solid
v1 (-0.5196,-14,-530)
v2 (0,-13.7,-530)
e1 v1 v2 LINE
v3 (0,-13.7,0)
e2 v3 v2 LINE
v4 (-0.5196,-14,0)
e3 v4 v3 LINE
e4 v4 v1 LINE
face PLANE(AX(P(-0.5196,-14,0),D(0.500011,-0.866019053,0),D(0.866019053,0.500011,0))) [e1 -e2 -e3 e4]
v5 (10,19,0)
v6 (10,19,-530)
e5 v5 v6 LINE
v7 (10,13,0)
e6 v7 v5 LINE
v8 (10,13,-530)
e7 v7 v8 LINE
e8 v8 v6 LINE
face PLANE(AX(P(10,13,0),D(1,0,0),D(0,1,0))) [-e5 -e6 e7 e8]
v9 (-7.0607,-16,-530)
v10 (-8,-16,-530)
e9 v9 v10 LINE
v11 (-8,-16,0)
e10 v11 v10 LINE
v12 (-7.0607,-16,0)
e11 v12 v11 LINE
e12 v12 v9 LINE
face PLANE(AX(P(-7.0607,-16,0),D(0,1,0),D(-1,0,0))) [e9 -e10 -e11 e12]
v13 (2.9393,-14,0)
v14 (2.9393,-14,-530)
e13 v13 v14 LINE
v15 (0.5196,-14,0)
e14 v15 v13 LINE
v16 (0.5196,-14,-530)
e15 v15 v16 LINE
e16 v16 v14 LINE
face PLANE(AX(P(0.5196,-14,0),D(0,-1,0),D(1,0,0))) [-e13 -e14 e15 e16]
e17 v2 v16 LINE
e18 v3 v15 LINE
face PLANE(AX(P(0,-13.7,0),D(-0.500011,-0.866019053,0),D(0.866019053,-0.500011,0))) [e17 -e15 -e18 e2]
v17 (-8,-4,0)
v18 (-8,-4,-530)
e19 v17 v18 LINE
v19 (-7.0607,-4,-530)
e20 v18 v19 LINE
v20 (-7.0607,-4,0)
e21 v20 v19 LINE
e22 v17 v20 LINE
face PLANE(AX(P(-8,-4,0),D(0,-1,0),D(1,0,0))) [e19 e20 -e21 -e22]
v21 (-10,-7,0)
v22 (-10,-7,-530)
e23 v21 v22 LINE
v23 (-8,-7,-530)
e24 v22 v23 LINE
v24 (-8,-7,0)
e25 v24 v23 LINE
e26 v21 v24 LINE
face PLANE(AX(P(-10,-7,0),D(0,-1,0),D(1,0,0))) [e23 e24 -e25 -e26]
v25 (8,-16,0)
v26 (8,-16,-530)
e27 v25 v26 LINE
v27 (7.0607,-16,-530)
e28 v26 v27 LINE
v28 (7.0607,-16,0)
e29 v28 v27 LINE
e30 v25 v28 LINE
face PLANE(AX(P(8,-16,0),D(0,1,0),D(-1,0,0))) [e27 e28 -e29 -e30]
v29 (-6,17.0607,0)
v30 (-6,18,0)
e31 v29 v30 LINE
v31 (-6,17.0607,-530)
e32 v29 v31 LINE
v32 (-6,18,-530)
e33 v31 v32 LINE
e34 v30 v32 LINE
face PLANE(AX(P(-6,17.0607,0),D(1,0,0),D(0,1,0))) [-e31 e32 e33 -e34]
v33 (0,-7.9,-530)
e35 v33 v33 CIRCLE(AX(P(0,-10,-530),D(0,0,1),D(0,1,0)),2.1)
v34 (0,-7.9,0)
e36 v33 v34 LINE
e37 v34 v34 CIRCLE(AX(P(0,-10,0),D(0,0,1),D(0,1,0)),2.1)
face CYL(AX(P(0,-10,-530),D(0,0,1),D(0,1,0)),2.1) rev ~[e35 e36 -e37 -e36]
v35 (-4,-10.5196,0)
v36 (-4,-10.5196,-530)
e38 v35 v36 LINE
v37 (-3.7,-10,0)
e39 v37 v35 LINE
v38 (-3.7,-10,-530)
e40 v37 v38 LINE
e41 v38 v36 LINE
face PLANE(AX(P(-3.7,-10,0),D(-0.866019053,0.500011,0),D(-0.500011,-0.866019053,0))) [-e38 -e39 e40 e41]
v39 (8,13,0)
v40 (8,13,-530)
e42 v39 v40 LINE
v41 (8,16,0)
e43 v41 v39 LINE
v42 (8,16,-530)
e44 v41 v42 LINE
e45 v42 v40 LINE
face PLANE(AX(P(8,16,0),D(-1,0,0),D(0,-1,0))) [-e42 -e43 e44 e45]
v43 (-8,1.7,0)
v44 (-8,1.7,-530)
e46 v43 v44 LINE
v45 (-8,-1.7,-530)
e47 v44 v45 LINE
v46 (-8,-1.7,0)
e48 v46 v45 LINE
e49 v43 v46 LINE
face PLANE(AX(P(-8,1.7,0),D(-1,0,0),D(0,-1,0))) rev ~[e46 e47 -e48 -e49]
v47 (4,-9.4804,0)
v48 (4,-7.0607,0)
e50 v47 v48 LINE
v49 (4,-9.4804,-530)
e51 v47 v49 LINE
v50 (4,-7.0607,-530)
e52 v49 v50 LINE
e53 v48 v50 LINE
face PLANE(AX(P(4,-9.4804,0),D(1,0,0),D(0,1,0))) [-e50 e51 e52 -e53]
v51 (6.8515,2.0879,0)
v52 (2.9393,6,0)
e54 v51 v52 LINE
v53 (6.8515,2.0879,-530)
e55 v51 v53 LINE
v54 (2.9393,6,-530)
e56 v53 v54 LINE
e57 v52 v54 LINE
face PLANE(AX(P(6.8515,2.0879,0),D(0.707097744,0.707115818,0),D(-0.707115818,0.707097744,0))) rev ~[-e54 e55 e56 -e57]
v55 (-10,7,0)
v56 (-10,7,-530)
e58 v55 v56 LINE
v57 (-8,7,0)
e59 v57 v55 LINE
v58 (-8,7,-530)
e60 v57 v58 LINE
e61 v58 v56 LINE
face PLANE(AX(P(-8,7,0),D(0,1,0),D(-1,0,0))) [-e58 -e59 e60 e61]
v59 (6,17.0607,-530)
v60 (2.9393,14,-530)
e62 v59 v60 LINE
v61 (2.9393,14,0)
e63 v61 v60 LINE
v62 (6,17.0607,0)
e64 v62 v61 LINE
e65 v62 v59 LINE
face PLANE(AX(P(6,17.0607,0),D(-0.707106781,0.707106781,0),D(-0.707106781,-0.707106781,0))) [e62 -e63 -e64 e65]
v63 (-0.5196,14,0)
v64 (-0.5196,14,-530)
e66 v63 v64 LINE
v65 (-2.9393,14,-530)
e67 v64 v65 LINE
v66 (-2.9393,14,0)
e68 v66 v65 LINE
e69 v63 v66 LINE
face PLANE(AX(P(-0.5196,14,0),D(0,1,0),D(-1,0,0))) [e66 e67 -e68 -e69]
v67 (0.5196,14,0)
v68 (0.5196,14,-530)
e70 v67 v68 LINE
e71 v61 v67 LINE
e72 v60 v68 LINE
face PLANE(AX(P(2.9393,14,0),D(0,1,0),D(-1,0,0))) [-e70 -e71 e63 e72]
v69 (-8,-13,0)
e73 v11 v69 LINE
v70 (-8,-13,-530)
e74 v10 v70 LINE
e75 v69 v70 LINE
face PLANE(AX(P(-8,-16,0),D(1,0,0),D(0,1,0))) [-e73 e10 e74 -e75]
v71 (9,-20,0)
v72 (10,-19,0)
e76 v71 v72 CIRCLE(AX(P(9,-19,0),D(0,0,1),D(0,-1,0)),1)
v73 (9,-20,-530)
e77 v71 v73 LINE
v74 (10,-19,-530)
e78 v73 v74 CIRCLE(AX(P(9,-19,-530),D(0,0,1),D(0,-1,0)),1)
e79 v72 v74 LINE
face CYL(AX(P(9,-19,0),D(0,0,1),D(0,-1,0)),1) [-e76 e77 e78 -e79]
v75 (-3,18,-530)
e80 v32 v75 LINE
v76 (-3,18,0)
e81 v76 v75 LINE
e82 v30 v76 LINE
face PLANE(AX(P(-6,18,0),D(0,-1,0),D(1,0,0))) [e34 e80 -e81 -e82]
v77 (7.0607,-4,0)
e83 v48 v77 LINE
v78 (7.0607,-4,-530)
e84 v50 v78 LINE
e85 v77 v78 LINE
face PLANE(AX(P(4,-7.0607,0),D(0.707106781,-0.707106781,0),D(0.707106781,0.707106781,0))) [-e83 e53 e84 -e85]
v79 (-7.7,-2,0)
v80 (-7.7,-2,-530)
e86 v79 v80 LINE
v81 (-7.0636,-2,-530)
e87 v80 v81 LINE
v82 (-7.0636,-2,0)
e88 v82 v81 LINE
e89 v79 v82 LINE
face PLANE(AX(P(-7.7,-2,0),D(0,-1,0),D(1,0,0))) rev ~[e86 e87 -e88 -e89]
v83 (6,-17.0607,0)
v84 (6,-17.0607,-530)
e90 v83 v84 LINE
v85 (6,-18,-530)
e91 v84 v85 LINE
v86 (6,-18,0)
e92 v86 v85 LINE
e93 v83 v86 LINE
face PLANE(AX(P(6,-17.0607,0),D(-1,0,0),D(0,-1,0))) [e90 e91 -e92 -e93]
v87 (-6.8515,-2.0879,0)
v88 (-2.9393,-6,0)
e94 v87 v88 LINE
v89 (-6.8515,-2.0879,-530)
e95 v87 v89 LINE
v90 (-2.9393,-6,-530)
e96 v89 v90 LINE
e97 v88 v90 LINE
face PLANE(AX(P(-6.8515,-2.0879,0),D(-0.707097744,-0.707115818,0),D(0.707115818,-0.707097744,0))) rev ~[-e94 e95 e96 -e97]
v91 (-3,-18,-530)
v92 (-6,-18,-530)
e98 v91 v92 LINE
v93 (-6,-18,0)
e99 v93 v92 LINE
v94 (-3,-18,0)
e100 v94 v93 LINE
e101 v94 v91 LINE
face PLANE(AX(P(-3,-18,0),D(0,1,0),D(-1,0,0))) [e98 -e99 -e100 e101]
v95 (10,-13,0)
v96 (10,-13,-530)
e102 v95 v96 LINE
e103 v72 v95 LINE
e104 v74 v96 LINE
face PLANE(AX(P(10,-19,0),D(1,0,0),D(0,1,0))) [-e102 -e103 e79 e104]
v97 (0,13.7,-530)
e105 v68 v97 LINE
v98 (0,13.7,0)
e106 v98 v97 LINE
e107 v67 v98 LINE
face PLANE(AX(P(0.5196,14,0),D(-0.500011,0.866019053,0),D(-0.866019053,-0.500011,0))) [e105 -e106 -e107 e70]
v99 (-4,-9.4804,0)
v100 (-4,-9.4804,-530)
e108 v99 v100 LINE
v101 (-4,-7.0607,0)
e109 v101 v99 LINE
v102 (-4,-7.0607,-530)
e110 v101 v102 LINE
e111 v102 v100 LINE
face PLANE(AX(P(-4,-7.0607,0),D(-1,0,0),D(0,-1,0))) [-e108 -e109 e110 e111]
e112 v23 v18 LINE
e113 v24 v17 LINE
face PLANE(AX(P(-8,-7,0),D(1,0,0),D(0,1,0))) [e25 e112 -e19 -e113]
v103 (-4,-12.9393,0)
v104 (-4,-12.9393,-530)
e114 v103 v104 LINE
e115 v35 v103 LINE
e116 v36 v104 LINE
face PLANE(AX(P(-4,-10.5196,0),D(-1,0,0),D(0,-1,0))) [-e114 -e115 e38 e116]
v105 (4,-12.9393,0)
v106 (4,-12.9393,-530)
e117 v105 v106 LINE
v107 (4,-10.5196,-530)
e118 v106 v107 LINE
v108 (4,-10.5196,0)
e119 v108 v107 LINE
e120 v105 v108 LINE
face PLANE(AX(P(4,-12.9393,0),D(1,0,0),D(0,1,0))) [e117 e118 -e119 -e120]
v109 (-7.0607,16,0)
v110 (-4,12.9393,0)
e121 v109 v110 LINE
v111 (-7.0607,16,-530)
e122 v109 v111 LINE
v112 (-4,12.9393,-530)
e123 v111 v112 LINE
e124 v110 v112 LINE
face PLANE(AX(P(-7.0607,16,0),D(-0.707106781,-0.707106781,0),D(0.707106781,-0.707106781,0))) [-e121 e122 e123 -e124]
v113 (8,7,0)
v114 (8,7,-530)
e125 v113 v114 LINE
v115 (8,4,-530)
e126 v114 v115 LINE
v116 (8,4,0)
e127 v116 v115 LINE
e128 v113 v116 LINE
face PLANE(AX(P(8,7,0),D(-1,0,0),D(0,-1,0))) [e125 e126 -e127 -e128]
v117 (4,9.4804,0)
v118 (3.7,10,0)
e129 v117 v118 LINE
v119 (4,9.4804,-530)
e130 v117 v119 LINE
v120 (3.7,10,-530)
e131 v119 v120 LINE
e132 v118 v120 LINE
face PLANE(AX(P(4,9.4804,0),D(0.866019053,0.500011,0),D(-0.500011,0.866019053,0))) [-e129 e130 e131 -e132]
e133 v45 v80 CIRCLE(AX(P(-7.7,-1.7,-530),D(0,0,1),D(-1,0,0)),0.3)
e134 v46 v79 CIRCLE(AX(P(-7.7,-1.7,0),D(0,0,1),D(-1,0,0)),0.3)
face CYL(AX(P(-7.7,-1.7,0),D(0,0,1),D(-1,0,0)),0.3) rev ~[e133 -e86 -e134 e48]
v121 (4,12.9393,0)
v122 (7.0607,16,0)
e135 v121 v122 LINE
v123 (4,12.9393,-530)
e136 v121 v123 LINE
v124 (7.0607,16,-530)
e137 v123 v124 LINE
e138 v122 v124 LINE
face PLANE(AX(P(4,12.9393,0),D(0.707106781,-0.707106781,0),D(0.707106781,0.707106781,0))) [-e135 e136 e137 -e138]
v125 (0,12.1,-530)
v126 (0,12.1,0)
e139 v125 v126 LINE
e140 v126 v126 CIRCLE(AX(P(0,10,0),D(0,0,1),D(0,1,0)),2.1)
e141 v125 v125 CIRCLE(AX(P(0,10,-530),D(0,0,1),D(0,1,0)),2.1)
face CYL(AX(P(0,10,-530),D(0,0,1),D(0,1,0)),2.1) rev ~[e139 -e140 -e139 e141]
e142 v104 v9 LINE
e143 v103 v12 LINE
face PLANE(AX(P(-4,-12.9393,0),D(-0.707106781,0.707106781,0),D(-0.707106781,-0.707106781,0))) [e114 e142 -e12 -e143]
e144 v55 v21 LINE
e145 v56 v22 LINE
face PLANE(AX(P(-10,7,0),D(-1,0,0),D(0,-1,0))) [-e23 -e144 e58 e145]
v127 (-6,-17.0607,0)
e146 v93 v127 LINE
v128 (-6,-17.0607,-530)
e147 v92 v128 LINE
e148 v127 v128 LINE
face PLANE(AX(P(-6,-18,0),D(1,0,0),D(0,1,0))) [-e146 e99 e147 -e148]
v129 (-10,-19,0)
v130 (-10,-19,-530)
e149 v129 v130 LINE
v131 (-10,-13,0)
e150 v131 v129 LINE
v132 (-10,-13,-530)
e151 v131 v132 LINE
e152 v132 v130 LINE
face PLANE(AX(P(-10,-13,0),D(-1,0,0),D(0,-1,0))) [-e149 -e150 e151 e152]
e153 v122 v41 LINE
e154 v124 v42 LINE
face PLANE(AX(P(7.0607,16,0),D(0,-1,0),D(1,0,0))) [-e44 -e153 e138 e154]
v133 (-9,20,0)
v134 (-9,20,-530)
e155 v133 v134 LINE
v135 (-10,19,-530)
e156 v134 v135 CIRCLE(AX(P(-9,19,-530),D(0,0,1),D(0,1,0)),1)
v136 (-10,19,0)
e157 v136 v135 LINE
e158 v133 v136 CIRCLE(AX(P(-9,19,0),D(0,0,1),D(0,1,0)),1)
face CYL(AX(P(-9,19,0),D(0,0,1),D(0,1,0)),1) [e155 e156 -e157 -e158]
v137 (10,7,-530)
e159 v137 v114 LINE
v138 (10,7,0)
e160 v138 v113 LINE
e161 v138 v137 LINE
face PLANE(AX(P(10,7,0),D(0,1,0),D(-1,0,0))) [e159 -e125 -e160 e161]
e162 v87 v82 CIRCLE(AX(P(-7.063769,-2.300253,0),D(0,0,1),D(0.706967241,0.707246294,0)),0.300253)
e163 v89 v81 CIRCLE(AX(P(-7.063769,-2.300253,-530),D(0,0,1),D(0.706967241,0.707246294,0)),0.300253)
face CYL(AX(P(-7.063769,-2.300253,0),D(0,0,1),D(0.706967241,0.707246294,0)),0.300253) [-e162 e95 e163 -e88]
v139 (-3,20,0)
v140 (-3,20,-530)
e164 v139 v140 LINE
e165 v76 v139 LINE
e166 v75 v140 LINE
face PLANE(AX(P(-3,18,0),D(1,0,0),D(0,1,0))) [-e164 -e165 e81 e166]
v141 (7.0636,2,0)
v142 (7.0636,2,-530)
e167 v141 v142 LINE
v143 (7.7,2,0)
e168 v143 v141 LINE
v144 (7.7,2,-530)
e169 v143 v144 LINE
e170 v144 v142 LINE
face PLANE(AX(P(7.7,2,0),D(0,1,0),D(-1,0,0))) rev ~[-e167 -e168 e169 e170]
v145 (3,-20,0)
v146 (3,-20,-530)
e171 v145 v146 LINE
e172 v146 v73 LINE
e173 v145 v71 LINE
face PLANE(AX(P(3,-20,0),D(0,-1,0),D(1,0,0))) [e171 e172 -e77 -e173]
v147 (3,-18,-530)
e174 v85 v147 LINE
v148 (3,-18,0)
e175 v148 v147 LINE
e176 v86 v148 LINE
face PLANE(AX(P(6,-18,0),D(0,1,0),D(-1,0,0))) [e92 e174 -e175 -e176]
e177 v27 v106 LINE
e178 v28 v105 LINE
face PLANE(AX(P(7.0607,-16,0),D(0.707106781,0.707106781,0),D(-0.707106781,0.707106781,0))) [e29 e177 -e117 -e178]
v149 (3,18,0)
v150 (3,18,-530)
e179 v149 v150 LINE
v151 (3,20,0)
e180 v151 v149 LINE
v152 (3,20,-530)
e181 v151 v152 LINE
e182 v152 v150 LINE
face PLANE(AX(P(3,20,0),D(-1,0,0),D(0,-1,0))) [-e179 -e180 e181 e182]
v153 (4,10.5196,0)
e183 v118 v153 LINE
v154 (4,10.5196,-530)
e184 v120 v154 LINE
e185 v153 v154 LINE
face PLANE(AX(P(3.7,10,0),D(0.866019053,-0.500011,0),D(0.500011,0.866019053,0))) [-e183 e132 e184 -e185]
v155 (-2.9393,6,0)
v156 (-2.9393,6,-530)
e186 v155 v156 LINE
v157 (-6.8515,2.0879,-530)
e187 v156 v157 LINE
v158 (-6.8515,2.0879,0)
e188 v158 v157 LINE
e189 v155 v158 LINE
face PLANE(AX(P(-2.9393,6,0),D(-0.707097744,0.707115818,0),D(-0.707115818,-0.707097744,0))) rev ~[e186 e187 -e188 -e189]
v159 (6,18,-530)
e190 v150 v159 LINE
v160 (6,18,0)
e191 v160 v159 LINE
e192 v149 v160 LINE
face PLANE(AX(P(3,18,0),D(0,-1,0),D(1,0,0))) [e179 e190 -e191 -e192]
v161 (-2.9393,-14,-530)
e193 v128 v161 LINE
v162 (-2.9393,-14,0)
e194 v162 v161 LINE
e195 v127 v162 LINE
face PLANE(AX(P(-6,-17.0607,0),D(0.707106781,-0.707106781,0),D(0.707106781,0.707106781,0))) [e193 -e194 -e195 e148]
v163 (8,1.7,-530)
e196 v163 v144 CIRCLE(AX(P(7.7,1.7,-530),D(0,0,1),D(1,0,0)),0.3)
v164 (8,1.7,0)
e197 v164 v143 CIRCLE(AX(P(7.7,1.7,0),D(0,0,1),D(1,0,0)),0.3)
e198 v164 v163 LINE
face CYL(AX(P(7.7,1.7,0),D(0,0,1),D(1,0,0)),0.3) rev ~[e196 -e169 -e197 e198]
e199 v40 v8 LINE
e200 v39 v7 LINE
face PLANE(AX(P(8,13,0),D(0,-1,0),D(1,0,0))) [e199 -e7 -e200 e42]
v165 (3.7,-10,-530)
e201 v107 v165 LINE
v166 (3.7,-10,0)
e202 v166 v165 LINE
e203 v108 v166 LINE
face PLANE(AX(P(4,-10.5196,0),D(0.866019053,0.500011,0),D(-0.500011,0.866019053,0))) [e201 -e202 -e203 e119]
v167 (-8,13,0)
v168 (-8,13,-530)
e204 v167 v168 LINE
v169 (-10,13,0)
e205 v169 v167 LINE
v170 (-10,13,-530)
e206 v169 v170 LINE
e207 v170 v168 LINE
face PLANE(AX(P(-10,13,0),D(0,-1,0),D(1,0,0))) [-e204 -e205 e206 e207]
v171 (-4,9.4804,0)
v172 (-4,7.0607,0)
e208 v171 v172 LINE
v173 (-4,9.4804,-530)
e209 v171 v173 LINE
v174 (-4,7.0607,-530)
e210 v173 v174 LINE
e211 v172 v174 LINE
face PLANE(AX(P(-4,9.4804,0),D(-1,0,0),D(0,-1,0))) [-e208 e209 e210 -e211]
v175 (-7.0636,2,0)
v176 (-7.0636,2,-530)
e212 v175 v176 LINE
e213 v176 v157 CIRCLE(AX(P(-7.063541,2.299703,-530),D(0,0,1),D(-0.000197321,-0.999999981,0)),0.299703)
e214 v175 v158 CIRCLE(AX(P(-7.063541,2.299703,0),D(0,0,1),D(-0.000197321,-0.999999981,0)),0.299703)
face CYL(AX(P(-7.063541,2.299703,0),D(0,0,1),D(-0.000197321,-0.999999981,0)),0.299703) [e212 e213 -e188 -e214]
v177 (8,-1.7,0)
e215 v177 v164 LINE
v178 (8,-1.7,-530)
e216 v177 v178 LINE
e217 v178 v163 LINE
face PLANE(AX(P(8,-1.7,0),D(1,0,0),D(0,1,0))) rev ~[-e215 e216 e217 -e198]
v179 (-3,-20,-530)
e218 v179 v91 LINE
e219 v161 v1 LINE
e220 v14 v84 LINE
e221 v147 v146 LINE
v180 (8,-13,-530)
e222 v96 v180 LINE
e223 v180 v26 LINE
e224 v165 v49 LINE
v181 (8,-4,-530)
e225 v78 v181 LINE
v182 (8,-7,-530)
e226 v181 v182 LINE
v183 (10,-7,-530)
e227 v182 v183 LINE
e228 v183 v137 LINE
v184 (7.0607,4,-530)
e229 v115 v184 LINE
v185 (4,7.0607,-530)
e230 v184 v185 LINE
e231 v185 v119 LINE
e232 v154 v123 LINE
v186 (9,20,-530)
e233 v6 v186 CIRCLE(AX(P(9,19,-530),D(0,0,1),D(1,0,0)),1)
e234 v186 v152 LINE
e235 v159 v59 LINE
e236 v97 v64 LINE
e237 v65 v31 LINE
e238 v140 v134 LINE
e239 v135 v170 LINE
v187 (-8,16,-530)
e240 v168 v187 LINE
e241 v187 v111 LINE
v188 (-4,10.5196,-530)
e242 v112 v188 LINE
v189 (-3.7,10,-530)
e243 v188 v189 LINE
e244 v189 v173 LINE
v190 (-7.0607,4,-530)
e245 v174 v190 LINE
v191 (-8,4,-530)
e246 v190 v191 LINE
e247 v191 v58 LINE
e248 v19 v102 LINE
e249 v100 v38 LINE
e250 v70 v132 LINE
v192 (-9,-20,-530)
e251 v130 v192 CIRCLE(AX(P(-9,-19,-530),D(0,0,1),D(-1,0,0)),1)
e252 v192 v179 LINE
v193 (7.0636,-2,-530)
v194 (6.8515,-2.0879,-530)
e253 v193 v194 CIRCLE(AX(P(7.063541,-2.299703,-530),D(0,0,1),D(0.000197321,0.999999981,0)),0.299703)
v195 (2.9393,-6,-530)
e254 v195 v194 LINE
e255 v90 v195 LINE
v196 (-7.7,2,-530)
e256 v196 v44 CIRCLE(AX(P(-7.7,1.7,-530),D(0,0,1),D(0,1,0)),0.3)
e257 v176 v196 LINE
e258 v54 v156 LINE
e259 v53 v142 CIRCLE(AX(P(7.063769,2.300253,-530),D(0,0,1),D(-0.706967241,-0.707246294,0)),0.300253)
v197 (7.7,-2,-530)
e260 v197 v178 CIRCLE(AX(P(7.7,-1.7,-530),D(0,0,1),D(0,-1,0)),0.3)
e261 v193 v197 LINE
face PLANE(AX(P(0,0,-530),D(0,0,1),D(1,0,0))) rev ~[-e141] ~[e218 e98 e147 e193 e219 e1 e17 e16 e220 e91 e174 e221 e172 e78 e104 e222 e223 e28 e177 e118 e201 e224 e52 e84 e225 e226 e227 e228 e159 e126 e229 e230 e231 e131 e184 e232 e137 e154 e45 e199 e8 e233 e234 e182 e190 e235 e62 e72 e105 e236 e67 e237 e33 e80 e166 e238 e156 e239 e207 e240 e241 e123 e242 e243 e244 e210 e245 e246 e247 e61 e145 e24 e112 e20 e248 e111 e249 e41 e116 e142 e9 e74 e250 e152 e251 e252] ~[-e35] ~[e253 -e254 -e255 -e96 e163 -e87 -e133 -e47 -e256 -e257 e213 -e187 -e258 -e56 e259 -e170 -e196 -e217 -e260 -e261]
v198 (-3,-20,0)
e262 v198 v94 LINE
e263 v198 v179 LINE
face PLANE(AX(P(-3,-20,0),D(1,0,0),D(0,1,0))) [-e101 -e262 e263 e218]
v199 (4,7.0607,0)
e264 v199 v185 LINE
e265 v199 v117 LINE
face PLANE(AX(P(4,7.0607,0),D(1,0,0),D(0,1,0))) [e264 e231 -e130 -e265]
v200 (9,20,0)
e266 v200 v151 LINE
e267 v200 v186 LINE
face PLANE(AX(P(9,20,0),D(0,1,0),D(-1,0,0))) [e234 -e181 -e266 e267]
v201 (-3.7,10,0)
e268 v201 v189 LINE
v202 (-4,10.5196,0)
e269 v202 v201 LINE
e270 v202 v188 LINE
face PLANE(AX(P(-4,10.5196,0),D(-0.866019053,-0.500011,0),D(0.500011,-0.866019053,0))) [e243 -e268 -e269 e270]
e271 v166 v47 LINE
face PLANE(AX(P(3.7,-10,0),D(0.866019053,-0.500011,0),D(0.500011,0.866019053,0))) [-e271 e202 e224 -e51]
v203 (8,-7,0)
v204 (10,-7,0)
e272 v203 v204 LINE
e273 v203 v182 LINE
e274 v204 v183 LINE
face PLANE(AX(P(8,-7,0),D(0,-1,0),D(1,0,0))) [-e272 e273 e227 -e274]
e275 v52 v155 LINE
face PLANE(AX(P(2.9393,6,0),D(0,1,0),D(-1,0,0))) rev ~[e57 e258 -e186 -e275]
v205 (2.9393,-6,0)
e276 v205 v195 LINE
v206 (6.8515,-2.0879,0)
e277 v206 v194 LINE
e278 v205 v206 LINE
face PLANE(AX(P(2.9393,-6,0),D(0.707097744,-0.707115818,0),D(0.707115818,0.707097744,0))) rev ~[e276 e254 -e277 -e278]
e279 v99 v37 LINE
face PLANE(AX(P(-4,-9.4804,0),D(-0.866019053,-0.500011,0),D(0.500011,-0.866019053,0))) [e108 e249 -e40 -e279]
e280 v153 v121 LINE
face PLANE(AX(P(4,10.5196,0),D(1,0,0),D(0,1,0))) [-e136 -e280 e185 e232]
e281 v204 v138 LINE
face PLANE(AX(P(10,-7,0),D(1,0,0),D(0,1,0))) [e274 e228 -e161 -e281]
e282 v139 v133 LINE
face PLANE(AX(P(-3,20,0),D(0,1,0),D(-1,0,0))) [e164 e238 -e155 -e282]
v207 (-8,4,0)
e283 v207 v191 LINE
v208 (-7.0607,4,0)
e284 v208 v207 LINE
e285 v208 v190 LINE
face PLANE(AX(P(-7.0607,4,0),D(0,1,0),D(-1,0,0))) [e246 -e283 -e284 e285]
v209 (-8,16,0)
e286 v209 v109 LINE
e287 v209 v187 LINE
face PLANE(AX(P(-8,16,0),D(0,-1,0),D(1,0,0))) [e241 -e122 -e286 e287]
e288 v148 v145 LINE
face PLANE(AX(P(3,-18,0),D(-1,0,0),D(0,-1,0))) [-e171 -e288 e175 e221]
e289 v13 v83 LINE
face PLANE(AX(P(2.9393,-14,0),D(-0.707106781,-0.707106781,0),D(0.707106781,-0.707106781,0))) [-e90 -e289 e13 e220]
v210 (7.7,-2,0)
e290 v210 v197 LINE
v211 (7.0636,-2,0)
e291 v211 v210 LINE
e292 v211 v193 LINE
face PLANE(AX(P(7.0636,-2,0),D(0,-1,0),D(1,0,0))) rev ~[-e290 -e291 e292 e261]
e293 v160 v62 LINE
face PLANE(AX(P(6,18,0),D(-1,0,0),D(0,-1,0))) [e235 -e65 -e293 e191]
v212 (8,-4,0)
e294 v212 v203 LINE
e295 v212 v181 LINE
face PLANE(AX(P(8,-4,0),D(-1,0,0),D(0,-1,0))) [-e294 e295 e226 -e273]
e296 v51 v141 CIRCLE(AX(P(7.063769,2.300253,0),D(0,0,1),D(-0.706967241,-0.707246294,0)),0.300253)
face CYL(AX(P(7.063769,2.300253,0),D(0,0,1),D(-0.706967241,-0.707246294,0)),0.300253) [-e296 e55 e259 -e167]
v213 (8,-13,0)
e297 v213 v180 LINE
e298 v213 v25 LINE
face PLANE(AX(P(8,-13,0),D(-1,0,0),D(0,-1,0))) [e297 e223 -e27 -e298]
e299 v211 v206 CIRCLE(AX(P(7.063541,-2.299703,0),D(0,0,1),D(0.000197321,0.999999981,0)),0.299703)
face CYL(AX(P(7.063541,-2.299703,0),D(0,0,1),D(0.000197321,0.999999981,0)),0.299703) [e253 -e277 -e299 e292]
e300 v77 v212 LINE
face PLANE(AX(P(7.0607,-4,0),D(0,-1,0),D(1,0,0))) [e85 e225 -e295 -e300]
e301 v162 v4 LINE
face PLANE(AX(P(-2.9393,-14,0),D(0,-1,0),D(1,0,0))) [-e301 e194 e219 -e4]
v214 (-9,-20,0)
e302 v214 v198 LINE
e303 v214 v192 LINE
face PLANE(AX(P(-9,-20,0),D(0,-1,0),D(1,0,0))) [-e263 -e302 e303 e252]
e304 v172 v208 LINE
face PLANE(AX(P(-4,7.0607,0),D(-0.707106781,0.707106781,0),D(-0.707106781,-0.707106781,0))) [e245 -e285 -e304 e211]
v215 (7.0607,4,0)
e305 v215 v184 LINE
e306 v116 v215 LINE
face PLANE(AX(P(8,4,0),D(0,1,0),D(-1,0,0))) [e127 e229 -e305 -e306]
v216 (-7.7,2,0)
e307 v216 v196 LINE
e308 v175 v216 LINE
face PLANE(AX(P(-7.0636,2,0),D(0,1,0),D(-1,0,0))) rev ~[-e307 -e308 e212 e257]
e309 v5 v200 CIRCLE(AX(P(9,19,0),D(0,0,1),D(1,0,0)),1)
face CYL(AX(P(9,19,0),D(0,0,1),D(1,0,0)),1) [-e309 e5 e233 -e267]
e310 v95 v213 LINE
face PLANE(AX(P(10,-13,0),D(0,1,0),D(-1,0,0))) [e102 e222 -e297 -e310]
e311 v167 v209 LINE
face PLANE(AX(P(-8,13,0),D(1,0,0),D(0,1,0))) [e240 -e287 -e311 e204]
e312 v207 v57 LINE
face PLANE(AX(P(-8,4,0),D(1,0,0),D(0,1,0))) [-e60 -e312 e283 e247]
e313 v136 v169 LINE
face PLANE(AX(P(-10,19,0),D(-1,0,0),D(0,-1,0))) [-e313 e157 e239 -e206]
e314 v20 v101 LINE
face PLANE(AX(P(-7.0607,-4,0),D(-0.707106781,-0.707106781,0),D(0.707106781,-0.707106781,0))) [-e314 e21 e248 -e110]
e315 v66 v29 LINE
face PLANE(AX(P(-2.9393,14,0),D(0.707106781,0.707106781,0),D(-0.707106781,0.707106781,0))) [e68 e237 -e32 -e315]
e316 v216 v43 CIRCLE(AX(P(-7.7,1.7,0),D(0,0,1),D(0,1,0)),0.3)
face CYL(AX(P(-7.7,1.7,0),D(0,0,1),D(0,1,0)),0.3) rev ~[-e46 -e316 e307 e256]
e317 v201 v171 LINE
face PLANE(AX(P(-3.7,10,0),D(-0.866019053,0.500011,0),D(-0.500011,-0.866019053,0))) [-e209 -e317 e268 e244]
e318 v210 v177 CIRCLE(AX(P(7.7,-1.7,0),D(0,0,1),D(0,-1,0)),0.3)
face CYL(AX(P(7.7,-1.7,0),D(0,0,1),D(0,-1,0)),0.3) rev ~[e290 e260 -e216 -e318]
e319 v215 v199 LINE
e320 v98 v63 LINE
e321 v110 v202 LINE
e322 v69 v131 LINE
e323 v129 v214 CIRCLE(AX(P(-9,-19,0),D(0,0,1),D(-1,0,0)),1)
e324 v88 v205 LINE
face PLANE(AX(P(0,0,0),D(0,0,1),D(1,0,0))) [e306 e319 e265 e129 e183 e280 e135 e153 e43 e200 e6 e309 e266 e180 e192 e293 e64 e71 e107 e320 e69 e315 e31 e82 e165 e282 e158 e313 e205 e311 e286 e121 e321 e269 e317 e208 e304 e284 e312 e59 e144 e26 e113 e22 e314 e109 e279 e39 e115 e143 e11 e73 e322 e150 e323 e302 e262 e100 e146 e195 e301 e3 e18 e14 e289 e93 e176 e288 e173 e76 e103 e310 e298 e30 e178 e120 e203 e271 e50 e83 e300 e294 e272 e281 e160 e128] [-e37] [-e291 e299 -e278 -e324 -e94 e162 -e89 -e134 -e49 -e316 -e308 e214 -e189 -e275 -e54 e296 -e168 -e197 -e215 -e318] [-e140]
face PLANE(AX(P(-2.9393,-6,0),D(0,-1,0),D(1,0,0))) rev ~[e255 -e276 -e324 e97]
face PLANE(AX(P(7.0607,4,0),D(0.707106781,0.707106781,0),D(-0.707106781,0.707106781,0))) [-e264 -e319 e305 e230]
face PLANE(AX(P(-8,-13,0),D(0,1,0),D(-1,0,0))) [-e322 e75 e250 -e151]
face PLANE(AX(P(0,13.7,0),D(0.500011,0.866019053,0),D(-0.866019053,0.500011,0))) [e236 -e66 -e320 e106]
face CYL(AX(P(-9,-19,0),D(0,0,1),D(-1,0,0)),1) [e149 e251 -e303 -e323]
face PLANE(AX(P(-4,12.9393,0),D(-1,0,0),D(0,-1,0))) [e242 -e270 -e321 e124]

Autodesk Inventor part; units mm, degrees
sketch "Sketch_1" plane through (0, 0, 0) normal (0, 0, 1) x (1, 0, 0)
  line L0 (-10, -7) -> (-8, -7)
  line L1 (-8, -7) -> (-8, -4)
  line L2 (-8, -4) -> (-7.0607, -4)
  line L3 (-7.0607, -4) -> (-4, -7.0607)
  line L4 (-4, -7.0607) -> (-4, -9.4804)
  line L5 (-4, -9.4804) -> (-3.7, -10)
  line L6 (-3.7, -10) -> (-4, -10.5196)
  line L7 (-4, -10.5196) -> (-4, -12.9393)
  line L8 (-4, -12.9393) -> (-7.0607, -16)
  line L9 (-7.0607, -16) -> (-8, -16)
  line L10 (-8, -16) -> (-8, -13)
  line L11 (-8, -13) -> (-10, -13)
  line L12 (-10, -13) -> (-10, -19)
  arc A0 (-10, -19) -> (-9, -20) centre (-9, -19) ccw
  line L13 (-9, -20) -> (-3, -20)
  line L14 (-3, -20) -> (-3, -18)
  line L15 (-3, -18) -> (-6, -18)
  line L16 (-6, -18) -> (-6, -17.0607)
  line L17 (-6, -17.0607) -> (-2.9393, -14)
  line L18 (-2.9393, -14) -> (-0.5196, -14)
  line L19 (-0.5196, -14) -> (0, -13.7)
  line L20 (0, -13.7) -> (0.5196, -14)
  line L21 (0.5196, -14) -> (2.9393, -14)
  line L22 (2.9393, -14) -> (6, -17.0607)
  line L23 (6, -17.0607) -> (6, -18)
  line L24 (6, -18) -> (3, -18)
  line L25 (3, -18) -> (3, -20)
  line L26 (3, -20) -> (9, -20)
  arc A1 (9, -20) -> (10, -19) centre (9, -19) ccw
  line L27 (10, -19) -> (10, -13)
  line L28 (10, -13) -> (8, -13)
  line L29 (8, -13) -> (8, -16)
  line L30 (8, -16) -> (7.0607, -16)
  line L31 (7.0607, -16) -> (4, -12.9393)
  line L32 (4, -12.9393) -> (4, -10.5196)
  line L33 (4, -10.5196) -> (3.7, -10)
  line L34 (3.7, -10) -> (4, -9.4804)
  line L35 (4, -9.4804) -> (4, -7.0607)
  line L36 (4, -7.0607) -> (7.0607, -4)
  line L37 (7.0607, -4) -> (8, -4)
  line L38 (8, -4) -> (8, -7)
  line L39 (8, -7) -> (10, -7)
  line L40 (10, -7) -> (10, 7)
  line L41 (10, 7) -> (8, 7)
  line L42 (8, 7) -> (8, 4)
  line L43 (8, 4) -> (7.0607, 4)
  line L44 (7.0607, 4) -> (4, 7.0607)
  line L45 (4, 7.0607) -> (4, 9.4804)
  line L46 (4, 9.4804) -> (3.7, 10)
  line L47 (3.7, 10) -> (4, 10.5196)
  line L48 (4, 10.5196) -> (4, 12.9393)
  line L49 (4, 12.9393) -> (7.0607, 16)
  line L50 (7.0607, 16) -> (8, 16)
  line L51 (8, 16) -> (8, 13)
  line L52 (8, 13) -> (10, 13)
  line L53 (10, 13) -> (10, 19)
  arc A2 (10, 19) -> (9, 20) centre (9, 19) ccw
  line L54 (9, 20) -> (3, 20)
  line L55 (3, 20) -> (3, 18)
  line L56 (3, 18) -> (6, 18)
  line L57 (6, 18) -> (6, 17.0607)
  line L58 (6, 17.0607) -> (2.9393, 14)
  line L59 (2.9393, 14) -> (0.5196, 14)
  line L60 (0.5196, 14) -> (0, 13.7)
  line L61 (0, 13.7) -> (-0.5196, 14)
  line L62 (-0.5196, 14) -> (-2.9393, 14)
  line L63 (-2.9393, 14) -> (-6, 17.0607)
  line L64 (-6, 17.0607) -> (-6, 18)
  line L65 (-6, 18) -> (-3, 18)
  line L66 (-3, 18) -> (-3, 20)
  line L67 (-3, 20) -> (-9, 20)
  arc A3 (-9, 20) -> (-10, 19) centre (-9, 19) ccw
  line L68 (-10, 19) -> (-10, 13)
  line L69 (-10, 13) -> (-8, 13)
  line L70 (-8, 13) -> (-8, 16)
  line L71 (-8, 16) -> (-7.0607, 16)
  line L72 (-7.0607, 16) -> (-4, 12.9393)
  line L73 (-4, 12.9393) -> (-4, 10.5196)
  line L74 (-4, 10.5196) -> (-3.7, 10)
  line L75 (-3.7, 10) -> (-4, 9.4804)
  line L76 (-4, 9.4804) -> (-4, 7.0607)
  line L77 (-4, 7.0607) -> (-7.0607, 4)
  line L78 (-7.0607, 4) -> (-8, 4)
  line L79 (-8, 4) -> (-8, 7)
  line L80 (-8, 7) -> (-10, 7)
  line L81 (-10, 7) -> (-10, -7)
  line L82 (-8, 1.7) -> (-8, -1.7)
  arc A4 (-8, -1.7) -> (-7.7, -2) centre (-7.7, -1.7) ccw
  line L83 (-7.7, -2) -> (-7.0636, -2)
  arc A5 (-6.8515, -2.0879) -> (-7.0636, -2) centre (-7.0636, -2.3) ccw
  line L84 (-6.8515, -2.0879) -> (-2.9393, -6)
  line L85 (-2.9393, -6) -> (2.9393, -6)
  line L86 (2.9393, -6) -> (6.8515, -2.0879)
  arc A6 (7.0636, -2) -> (6.8515, -2.0879) centre (7.0636, -2.3) ccw
  line L87 (7.0636, -2) -> (7.7, -2)
  arc A7 (7.7, -2) -> (8, -1.7) centre (7.7, -1.7) ccw
  line L88 (8, -1.7) -> (8, 1.7)
  arc A8 (8, 1.7) -> (7.7, 2) centre (7.7, 1.7) ccw
  line L89 (7.7, 2) -> (7.0636, 2)
  arc A9 (6.8515, 2.0879) -> (7.0636, 2) centre (7.0636, 2.3) ccw
  line L90 (6.8515, 2.0879) -> (2.9393, 6)
  line L91 (2.9393, 6) -> (-2.9393, 6)
  line L92 (-2.9393, 6) -> (-6.8515, 2.0879)
  arc A10 (-7.0636, 2) -> (-6.8515, 2.0879) centre (-7.0636, 2.3) ccw
  line L93 (-7.0636, 2) -> (-7.7, 2)
  arc A11 (-7.7, 2) -> (-8, 1.7) centre (-7.7, 1.7) ccw
extrude "Extrusion1" add sketch "Sketch_1" against normal blind 530
sketch "Sketch2" plane through (0, 0, -530) normal (0, 0, -1) x (-1, 0, 0)
  point P0 (0, 10)
hole "Hole1" at (0, 10, -530) direction (0, 0, 1) diameter 4.2 depth 530
pattern_linear "Rectangular Pattern1" count 2 spacing 20 along (0, -1, 0) of "Hole1"
ref_plane "C1_XY" through (0, 0, 0) normal (0, 0, 1) x (1, 0, 0)
ref_plane "C1_YZ" through (0, 0, 0) normal (1, 0, 0) x (0, 1, 0)
ref_plane "C1_ZX" through (0, 0, 0) normal (0, 1, 0) x (0, 0, 1)
properties part number "HFS5-2040-530"
